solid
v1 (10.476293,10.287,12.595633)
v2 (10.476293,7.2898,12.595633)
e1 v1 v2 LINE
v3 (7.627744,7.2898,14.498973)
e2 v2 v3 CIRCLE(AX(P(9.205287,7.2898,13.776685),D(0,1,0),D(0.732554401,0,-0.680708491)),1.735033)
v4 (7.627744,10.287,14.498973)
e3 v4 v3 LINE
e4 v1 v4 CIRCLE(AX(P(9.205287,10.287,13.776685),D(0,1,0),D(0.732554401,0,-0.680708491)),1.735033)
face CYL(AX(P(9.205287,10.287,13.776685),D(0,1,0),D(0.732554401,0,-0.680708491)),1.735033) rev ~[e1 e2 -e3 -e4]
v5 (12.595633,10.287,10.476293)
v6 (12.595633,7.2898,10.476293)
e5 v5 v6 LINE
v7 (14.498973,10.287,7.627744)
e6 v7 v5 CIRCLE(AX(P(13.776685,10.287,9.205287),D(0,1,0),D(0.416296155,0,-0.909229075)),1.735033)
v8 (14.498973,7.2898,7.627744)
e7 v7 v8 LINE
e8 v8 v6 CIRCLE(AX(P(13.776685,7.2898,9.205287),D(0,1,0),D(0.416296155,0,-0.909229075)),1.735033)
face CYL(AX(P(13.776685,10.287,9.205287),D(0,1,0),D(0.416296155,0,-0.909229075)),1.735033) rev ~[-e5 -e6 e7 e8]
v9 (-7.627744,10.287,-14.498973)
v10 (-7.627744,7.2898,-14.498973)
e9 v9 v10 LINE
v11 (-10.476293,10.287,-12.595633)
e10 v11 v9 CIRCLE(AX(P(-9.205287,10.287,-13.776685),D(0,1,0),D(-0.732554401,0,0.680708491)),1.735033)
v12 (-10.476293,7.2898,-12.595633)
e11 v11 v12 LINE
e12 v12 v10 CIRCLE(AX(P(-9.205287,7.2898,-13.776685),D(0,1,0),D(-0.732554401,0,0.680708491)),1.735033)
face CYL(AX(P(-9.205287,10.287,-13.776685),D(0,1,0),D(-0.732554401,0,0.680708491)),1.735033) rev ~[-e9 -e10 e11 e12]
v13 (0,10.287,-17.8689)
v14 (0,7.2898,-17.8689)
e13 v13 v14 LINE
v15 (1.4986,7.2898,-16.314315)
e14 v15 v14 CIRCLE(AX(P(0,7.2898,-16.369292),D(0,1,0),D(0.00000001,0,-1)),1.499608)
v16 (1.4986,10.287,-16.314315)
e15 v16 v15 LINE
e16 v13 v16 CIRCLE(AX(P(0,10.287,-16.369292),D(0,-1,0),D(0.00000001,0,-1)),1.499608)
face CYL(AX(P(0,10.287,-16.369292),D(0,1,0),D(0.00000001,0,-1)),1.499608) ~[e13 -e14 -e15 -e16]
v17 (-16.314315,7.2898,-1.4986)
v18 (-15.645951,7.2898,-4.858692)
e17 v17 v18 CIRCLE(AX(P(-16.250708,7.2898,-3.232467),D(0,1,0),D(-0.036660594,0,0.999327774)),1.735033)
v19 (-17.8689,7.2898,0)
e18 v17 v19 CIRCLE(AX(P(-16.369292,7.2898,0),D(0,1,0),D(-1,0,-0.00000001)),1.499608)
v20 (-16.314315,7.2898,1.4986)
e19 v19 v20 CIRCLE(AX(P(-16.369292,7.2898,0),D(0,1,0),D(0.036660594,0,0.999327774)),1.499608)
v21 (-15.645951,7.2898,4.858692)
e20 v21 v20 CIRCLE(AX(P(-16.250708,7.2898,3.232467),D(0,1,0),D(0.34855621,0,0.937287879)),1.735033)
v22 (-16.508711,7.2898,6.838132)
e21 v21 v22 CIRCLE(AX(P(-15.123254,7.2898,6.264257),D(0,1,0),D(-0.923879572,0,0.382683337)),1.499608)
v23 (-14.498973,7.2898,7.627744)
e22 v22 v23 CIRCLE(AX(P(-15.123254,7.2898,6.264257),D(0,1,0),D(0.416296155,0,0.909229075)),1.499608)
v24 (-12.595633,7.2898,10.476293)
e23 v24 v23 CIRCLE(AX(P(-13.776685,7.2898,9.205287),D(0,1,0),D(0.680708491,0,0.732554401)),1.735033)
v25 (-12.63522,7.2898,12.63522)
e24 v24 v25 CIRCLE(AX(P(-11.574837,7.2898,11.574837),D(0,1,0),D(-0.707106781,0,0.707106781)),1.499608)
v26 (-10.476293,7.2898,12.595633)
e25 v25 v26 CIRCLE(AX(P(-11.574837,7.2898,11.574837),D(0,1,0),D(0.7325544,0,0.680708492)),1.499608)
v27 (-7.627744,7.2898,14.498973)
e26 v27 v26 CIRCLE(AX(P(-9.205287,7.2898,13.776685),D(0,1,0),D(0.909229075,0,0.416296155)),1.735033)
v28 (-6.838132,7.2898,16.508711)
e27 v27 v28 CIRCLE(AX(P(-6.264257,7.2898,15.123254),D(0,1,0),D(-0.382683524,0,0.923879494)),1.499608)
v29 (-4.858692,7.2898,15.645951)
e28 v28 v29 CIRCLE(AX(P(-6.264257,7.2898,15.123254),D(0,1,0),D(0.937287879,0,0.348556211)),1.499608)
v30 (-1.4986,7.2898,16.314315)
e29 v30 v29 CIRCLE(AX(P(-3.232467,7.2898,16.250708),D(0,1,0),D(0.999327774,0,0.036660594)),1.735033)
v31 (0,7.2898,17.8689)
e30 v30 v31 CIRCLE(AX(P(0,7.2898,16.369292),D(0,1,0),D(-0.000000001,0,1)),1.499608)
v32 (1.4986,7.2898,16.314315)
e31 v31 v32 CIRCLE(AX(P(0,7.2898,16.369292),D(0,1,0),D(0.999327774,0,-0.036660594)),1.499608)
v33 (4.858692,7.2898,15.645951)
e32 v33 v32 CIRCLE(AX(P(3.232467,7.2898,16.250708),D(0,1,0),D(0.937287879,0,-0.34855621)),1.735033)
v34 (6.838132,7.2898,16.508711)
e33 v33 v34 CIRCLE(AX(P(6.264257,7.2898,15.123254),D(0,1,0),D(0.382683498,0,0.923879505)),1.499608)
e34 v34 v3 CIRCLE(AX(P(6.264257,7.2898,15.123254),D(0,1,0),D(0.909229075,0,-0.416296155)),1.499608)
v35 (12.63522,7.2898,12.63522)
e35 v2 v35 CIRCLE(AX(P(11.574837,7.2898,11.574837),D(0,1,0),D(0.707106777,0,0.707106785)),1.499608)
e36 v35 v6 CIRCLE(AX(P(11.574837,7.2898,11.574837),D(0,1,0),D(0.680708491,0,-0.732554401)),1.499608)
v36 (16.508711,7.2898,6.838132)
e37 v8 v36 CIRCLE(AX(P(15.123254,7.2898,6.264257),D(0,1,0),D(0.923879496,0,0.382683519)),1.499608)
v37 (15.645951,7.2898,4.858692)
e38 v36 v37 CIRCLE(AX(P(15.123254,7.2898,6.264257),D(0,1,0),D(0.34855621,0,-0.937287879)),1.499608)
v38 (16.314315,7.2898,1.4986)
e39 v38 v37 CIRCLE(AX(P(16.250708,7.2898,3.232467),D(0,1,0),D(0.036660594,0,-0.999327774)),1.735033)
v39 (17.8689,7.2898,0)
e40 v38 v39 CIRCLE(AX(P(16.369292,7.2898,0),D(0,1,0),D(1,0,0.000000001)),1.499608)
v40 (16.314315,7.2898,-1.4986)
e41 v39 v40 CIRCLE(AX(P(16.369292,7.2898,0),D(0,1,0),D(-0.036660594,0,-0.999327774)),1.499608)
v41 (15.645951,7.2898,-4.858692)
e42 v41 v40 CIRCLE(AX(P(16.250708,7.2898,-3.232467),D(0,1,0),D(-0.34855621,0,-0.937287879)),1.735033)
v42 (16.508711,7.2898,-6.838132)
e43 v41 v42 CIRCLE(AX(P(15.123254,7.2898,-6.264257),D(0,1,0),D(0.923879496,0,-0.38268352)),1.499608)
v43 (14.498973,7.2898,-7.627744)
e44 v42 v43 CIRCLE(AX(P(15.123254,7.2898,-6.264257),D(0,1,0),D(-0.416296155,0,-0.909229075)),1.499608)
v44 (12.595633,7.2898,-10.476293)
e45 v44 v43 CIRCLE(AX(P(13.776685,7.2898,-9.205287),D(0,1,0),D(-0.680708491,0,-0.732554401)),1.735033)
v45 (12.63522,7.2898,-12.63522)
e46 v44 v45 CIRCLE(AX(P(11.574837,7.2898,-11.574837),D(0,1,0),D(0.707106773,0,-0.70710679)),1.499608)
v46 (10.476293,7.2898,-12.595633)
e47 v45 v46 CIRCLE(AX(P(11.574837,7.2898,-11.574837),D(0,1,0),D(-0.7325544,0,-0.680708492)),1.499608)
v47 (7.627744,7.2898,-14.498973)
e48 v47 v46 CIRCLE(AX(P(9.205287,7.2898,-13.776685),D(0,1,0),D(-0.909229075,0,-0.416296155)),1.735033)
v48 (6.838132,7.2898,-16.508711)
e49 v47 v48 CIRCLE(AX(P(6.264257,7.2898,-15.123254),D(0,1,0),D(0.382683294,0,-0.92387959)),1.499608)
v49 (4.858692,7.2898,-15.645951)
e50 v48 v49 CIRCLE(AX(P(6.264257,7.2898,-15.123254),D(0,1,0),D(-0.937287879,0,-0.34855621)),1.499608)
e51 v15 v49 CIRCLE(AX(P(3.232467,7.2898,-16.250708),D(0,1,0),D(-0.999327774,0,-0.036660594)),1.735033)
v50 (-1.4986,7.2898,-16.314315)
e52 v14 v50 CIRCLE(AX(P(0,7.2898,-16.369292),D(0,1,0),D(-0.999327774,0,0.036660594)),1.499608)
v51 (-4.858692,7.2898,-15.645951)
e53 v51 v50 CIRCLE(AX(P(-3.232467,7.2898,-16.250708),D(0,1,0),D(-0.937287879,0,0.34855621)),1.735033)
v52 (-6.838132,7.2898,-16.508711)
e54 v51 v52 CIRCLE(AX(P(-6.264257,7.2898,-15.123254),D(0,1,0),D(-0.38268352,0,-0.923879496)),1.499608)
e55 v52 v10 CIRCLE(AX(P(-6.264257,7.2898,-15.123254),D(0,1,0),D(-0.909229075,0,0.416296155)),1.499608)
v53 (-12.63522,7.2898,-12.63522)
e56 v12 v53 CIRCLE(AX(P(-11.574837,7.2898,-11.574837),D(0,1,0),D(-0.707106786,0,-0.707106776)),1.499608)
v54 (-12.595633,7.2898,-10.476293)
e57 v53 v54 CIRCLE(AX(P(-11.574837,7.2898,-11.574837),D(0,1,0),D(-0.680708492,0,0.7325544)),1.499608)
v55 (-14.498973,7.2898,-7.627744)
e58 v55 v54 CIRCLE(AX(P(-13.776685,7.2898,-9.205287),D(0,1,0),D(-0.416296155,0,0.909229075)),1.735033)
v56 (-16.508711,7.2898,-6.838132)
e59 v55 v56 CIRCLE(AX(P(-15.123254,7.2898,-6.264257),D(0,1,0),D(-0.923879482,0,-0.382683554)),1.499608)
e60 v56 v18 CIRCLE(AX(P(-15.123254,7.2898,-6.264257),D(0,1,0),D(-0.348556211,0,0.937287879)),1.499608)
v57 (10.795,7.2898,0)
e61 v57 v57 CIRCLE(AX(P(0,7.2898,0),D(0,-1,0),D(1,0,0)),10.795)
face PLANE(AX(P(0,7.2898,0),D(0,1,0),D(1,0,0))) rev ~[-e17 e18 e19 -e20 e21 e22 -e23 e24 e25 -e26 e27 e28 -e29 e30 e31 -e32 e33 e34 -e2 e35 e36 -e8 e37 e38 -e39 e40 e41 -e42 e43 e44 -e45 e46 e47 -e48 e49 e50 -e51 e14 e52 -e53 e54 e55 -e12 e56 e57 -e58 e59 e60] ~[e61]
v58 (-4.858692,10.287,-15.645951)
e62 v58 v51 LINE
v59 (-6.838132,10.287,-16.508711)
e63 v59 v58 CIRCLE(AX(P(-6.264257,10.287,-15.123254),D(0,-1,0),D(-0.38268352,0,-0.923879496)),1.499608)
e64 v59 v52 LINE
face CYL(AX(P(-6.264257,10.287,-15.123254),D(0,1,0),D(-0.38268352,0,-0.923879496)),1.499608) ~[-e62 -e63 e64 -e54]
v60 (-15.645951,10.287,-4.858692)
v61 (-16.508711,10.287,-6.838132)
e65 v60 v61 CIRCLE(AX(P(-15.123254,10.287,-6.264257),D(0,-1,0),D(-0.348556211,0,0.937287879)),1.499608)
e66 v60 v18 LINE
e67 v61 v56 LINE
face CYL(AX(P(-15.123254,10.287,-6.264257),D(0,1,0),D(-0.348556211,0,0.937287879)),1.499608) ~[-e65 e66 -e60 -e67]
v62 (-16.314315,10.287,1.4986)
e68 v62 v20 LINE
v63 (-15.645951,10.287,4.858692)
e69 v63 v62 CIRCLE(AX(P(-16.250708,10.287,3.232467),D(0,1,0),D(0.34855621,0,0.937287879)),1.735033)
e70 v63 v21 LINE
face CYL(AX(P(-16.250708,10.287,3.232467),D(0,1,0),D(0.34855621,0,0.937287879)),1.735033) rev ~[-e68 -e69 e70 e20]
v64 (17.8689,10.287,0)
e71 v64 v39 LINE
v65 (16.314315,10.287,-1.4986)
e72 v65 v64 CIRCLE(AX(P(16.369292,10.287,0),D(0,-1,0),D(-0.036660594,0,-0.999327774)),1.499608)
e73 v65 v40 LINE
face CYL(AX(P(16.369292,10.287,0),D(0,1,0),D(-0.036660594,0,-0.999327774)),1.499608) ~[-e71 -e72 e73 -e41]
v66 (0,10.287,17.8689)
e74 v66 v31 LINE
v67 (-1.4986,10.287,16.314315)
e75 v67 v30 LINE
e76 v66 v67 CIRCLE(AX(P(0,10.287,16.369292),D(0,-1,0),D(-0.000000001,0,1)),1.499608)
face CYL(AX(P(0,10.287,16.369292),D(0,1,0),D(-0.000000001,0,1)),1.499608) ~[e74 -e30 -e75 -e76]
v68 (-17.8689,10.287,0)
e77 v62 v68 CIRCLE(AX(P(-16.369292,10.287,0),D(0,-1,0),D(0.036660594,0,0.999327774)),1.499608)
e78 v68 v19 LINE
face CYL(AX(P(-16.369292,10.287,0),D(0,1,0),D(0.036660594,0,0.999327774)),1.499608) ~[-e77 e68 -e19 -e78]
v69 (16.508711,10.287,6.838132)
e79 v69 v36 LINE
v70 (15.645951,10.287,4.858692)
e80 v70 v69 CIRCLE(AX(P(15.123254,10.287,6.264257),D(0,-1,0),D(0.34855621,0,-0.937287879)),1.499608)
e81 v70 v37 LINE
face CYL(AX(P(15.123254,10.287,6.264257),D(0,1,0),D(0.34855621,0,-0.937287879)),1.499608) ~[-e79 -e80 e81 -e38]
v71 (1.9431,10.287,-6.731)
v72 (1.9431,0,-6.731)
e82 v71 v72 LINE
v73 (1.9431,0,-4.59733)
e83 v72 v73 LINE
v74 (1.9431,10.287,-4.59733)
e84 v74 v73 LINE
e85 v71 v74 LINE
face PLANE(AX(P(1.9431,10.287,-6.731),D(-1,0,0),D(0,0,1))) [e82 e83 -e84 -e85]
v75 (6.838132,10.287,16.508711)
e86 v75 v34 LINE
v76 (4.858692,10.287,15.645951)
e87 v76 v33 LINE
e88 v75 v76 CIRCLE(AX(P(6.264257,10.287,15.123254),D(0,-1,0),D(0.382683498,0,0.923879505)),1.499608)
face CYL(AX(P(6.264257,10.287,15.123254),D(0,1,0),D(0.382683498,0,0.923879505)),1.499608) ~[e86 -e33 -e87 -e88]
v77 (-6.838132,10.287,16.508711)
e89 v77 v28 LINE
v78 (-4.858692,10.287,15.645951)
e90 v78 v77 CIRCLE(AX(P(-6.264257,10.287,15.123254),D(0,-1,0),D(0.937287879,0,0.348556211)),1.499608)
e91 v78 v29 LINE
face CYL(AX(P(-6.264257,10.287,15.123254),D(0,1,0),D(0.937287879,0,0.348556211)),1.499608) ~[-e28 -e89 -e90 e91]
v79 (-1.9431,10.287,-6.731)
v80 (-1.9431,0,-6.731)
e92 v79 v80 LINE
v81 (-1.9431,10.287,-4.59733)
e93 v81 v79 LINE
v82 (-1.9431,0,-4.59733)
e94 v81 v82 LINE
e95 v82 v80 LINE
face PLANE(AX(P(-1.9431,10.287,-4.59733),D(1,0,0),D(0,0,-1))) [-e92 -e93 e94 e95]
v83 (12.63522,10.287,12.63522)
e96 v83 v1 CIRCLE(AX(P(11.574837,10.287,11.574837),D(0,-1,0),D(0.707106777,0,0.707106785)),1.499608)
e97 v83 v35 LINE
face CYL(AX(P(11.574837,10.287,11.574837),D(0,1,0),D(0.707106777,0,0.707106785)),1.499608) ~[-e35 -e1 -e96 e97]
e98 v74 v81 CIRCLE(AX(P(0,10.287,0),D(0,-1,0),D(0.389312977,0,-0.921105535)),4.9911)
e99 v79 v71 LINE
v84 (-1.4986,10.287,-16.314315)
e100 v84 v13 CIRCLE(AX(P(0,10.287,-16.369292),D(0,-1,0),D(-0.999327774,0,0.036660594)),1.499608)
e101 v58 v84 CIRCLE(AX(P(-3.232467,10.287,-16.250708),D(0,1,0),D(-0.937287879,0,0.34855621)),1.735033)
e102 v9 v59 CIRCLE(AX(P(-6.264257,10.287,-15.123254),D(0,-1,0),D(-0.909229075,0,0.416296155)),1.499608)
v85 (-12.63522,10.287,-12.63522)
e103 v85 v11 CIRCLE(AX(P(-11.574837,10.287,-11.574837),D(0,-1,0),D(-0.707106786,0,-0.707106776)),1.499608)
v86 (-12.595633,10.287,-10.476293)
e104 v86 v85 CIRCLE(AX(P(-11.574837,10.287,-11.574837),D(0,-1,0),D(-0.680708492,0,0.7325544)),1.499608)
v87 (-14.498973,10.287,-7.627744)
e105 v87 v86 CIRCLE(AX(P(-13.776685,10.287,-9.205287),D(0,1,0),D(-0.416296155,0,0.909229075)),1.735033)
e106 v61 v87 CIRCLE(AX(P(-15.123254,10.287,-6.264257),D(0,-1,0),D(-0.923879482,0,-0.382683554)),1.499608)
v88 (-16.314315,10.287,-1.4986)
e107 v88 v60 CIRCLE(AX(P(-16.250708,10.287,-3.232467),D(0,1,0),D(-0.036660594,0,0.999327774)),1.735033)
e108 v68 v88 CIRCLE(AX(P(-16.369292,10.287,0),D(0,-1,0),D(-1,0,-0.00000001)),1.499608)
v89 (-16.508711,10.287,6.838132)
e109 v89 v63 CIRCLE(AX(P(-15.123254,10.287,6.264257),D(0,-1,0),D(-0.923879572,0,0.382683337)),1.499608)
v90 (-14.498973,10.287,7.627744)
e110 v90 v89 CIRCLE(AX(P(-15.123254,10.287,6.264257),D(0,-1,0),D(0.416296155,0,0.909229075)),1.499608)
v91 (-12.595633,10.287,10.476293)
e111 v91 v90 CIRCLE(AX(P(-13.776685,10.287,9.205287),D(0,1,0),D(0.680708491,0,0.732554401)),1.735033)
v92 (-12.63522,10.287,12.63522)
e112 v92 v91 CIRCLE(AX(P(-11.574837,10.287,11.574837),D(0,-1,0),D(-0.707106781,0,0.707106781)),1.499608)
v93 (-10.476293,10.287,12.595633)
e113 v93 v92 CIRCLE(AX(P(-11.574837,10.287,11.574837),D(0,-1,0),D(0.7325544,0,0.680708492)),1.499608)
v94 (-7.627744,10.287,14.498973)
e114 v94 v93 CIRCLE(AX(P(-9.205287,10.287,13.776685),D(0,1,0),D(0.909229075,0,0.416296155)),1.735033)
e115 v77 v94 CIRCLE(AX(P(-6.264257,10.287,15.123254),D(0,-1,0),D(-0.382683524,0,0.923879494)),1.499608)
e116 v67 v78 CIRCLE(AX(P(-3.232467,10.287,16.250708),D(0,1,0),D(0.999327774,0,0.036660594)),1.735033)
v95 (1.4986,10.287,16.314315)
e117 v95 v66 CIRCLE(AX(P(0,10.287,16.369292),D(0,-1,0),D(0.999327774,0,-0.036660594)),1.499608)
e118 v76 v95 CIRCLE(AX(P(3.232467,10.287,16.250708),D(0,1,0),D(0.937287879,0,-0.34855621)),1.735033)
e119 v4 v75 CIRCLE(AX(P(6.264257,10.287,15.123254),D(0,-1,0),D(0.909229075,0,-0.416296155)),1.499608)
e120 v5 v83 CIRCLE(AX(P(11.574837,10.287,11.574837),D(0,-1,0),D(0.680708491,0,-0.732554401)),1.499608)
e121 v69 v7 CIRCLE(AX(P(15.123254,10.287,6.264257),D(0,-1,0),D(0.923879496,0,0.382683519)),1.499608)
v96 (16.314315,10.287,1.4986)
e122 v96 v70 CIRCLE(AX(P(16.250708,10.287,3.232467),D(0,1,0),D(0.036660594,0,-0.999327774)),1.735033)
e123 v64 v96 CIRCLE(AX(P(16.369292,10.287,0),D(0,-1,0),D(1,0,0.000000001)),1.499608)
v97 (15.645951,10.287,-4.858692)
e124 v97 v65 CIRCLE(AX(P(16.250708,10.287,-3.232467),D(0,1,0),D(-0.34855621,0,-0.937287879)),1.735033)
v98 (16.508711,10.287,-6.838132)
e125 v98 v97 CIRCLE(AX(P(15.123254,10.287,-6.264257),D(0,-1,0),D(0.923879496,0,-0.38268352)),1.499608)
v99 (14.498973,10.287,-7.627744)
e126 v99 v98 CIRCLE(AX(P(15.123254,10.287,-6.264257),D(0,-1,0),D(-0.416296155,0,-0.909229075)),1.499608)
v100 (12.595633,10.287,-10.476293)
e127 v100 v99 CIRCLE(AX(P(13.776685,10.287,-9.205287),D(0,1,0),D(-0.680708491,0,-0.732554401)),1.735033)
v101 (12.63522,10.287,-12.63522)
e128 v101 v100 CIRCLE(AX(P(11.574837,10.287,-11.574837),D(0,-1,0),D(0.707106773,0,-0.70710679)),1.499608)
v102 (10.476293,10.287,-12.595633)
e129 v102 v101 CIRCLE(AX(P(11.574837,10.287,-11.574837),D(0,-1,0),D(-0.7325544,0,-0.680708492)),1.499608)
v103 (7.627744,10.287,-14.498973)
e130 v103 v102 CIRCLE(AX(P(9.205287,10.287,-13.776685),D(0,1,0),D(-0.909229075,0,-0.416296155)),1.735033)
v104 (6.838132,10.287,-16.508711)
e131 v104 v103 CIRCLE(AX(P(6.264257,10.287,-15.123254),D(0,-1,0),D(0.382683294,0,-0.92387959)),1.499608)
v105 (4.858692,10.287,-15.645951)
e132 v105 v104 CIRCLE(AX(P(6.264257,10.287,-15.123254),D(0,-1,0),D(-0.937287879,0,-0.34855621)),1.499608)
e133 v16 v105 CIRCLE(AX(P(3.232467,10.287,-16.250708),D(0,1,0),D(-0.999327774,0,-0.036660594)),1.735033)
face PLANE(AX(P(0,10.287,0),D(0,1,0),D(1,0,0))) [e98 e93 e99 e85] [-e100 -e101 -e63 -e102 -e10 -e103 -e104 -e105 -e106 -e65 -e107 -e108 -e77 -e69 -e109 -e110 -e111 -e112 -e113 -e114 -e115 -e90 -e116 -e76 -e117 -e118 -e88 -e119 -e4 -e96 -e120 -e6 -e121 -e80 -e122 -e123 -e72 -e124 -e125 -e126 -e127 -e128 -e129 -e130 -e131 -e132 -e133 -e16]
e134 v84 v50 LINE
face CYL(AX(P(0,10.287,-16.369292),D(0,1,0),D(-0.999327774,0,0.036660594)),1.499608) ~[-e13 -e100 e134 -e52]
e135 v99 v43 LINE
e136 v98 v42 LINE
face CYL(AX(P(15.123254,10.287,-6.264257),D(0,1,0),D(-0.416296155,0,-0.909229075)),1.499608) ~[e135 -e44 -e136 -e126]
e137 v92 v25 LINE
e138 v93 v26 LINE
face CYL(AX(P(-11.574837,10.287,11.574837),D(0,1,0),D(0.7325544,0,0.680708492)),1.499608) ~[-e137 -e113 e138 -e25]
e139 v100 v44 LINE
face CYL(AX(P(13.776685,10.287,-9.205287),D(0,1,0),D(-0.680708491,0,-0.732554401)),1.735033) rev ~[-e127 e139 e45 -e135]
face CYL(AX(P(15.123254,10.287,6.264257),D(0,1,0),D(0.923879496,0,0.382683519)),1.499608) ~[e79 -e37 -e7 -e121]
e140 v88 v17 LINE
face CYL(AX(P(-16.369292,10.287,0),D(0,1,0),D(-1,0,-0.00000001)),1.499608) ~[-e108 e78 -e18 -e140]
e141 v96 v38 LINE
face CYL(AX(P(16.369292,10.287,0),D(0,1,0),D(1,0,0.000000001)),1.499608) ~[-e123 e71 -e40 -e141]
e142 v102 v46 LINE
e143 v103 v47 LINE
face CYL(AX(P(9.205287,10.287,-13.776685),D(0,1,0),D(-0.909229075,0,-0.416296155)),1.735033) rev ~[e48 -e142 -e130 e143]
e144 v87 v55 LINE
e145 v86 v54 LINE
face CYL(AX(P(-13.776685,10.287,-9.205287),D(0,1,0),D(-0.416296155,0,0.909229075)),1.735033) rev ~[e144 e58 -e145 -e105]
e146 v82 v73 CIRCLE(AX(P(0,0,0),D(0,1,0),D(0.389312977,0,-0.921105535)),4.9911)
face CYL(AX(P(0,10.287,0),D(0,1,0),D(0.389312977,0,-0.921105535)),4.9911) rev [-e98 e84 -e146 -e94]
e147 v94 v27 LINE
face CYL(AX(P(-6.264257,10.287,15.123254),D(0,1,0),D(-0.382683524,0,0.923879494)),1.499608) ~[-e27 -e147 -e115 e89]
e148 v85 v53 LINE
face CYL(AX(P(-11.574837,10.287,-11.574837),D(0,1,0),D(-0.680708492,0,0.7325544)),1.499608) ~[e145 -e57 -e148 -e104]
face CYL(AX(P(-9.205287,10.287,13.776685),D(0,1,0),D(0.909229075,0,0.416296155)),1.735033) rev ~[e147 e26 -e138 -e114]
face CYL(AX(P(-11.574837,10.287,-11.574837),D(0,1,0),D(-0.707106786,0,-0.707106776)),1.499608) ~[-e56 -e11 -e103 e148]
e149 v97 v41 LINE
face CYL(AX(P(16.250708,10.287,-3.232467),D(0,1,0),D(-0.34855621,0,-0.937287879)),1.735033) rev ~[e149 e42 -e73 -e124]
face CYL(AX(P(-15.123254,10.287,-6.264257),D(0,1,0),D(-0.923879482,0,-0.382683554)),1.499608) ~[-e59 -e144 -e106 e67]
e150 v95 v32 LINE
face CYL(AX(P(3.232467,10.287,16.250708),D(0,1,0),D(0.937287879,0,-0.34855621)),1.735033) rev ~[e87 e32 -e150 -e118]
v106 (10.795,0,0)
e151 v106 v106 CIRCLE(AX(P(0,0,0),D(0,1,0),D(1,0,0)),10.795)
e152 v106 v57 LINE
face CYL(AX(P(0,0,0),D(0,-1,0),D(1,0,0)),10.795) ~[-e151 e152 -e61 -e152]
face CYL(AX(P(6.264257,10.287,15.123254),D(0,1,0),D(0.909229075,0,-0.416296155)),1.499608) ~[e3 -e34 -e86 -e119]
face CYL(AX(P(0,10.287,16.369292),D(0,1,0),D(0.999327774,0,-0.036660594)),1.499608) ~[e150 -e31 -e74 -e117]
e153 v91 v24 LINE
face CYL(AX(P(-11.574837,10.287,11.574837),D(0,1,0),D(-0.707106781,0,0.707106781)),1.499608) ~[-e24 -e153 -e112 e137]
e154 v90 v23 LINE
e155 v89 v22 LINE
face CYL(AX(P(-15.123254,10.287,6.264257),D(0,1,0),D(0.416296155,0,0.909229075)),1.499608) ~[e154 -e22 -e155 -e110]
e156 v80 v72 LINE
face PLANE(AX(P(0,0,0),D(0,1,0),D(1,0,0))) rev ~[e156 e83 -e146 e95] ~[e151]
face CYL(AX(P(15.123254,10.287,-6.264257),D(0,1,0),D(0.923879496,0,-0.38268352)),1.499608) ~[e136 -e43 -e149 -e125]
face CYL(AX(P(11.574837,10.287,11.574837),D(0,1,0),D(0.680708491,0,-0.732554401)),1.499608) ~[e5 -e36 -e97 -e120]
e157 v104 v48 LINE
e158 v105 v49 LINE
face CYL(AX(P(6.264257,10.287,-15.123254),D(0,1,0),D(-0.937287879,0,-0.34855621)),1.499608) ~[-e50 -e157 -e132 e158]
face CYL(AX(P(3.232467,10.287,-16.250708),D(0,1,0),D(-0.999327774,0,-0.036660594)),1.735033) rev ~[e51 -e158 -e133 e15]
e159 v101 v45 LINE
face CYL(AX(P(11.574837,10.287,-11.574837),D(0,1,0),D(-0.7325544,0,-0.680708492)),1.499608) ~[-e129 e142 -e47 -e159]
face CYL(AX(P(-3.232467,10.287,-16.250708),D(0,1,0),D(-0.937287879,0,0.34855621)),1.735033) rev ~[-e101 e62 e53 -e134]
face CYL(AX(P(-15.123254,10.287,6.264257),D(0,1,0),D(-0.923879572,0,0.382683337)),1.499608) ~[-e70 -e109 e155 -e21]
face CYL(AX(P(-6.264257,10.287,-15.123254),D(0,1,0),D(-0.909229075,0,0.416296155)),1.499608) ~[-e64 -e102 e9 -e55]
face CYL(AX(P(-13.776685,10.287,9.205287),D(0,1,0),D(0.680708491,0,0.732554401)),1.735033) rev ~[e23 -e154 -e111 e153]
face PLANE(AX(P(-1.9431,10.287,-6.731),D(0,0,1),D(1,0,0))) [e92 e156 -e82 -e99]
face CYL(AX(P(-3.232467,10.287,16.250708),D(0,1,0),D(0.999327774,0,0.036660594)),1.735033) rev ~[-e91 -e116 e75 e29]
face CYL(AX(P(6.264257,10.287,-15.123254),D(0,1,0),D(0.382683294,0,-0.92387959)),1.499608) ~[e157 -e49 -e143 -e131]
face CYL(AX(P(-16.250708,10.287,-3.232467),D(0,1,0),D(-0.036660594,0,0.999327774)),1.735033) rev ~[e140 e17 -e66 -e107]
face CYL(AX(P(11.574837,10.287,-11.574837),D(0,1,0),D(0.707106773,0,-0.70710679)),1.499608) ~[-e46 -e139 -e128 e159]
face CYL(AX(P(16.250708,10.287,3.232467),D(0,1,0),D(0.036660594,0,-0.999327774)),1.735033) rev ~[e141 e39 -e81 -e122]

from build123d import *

# Parameters (mm, degrees)
SKETCH2_R           = 10.795
BOSS_EXTRUDE1_DEPTH = 10.287
SKETCH3_R           = 17.8689
BOSS_EXTRUDE2_DEPTH = 2.9972
CUT_EXTRUDE1_DEPTH  = 11.287
CUT_EXTRUDE2_DEPTH  = 11.287


with BuildPart() as part:
    # Sketch2 → Boss-Extrude1 (new body)
    with BuildSketch(Plane(origin=(0, 0, 0), x_dir=(1, 0, 0), z_dir=(0, 1, 0))):
        Circle(SKETCH2_R)
    extrude(amount=BOSS_EXTRUDE1_DEPTH)

    # Sketch3 → Boss-Extrude2 (add)
    with BuildSketch(Plane(origin=(0, 10.287, 0), x_dir=(1, 0, 0), z_dir=(0, 1, 0))):
        Circle(SKETCH3_R)
    extrude(amount=-BOSS_EXTRUDE2_DEPTH)

    # Sketch4 → Cut-Extrude1 (cut, through all)
    with BuildSketch(Plane(origin=(0, 10.287, 0), x_dir=(1, 0, 0), z_dir=(0, 1, 0))):
        with BuildLine():
            ThreePointArc((1.4e-08, 17.8689), (1.079645228, 17.410056336), (1.4986, 16.314315402))
            ThreePointArc((1.4986, 16.314315402), (3.196164746, 16.068205249), (4.858692347, 15.645951479))
            ThreePointArc((4.858692347, 15.645951479), (5.665077892, 16.497957009), (6.838131777, 16.508711064))
            ThreePointArc((6.838131777, 16.508711064), (3.486049352, 17.525554117), (1.4e-08, 17.8689))
        make_face()
        with BuildLine():
            ThreePointArc((4.858692347, 15.645951479), (3.196164746, 16.068205249), (1.4986, 16.314315402))
            ThreePointArc((1.4986, 16.314315402), (2.893978636, 14.549013087), (4.858692347, 15.645951479))
        make_face()
        with BuildLine():
            ThreePointArc((12.63522035, 12.635220375), (9.927428836, 14.857447422), (6.838131777, 16.508711064))
            ThreePointArc((6.838131777, 16.508711064), (7.660002201, 15.671632478), (7.627744082, 14.498972695))
            ThreePointArc((7.627744082, 14.498972695), (9.101907128, 13.621966658), (10.476292829, 12.595633274))
            ThreePointArc((10.476292829, 12.595633274), (11.547344433, 13.074193358), (12.63522035, 12.635220375))
        make_face()
        with BuildLine():
            ThreePointArc((10.476292829, 12.595633274), (9.101907128, 13.621966658), (7.627744082, 14.498972695))
            ThreePointArc((7.627744082, 14.498972695), (8.241353895, 12.334057732), (10.476292829, 12.595633274))
        make_face()
        with BuildLine():
            ThreePointArc((16.508710924, 6.838132115), (14.857447311, 9.927429003), (12.63522035, 12.635220375))
            ThreePointArc((12.63522035, 12.635220375), (13.074193359, 11.54734445), (12.595633274, 10.476292829))
            ThreePointArc((12.595633274, 10.476292829), (13.621966658, 9.101907128), (14.498972695, 7.627744082))
            ThreePointArc((14.498972695, 7.627744082), (15.671632308, 7.660002268), (16.508710924, 6.838132115))
        make_face()
        with BuildLine():
            ThreePointArc((14.498972695, 7.627744082), (13.621966658, 9.101907128), (12.595633274, 10.476292829))
            ThreePointArc((12.595633274, 10.476292829), (12.334057732, 8.241353895), (14.498972695, 7.627744082))
        make_face()
        with BuildLine():
            ThreePointArc((17.8689, 0), (17.525554083, 3.486049525), (16.508710924, 6.838132115))
            ThreePointArc((16.508710924, 6.838132115), (16.497957082, 5.665078059), (15.645951479, 4.858692347))
            ThreePointArc((15.645951479, 4.858692347), (16.068205249, 3.196164746), (16.314315402, 1.4986))
            ThreePointArc((16.314315402, 1.4986), (17.410056341, 1.079645223), (17.8689, 0))
        make_face()
        with BuildLine():
            ThreePointArc((16.314315402, 1.4986), (16.068205249, 3.196164746), (15.645951479, 4.858692347))
            ThreePointArc((15.645951479, 4.858692347), (14.549013087, 2.893978636), (16.314315402, 1.4986))
        make_face()
        with BuildLine():
            ThreePointArc((16.508710924, -6.838132115), (17.525554083, -3.486049525), (17.8689, 0))
            ThreePointArc((17.8689, 0), (17.410056341, -1.079645223), (16.314315402, -1.4986))
            ThreePointArc((16.314315402, -1.4986), (16.068205249, -3.196164746), (15.645951479, -4.858692347))
            ThreePointArc((15.645951479, -4.858692347), (16.497957082, -5.665078059), (16.508710924, -6.838132115))
        make_face()
        with BuildLine():
            ThreePointArc((15.645951479, -4.858692347), (16.068205249, -3.196164746), (16.314315402, -1.4986))
            ThreePointArc((16.314315402, -1.4986), (14.549013087, -2.893978636), (15.645951479, -4.858692347))
        make_face()
        with BuildLine():
            ThreePointArc((12.635220358, -12.635220367), (14.857447314, -9.927428998), (16.508710924, -6.838132115))
            ThreePointArc((16.508710924, -6.838132115), (15.671632308, -7.660002268), (14.498972695, -7.627744082))
            ThreePointArc((14.498972695, -7.627744082), (13.621966658, -9.101907128), (12.595633274, -10.476292829))
            ThreePointArc((12.595633274, -10.476292829), (13.074193359, -11.547344445), (12.635220358, -12.635220367))
        make_face()
        with BuildLine():
            ThreePointArc((12.595633274, -10.476292829), (13.621966658, -9.101907128), (14.498972695, -7.627744082))
            ThreePointArc((14.498972695, -7.627744082), (12.334057732, -8.241353895), (12.595633274, -10.476292829))
        make_face()
        with BuildLine():
            ThreePointArc((6.838132083, -16.508710938), (9.927428978, -14.857447327), (12.635220358, -12.635220367))
            ThreePointArc((12.635220358, -12.635220367), (11.547344438, -13.074193358), (10.476292829, -12.595633274))
            ThreePointArc((10.476292829, -12.595633274), (9.101907128, -13.621966658), (7.627744082, -14.498972695))
            ThreePointArc((7.627744082, -14.498972695), (7.660002262, -15.671632324), (6.838132083, -16.508710938))
        make_face()
        with BuildLine():
            ThreePointArc((7.627744082, -14.498972695), (9.101907128, -13.621966658), (10.476292829, -12.595633274))
            ThreePointArc((10.476292829, -12.595633274), (8.241353895, -12.334057732), (7.627744082, -14.498972695))
        make_face()
        with BuildLine():
            ThreePointArc((0, -17.8689), (3.486049507, -17.525554087), (6.838132083, -16.508710938))
            ThreePointArc((6.838132083, -16.508710938), (5.665078043, -16.497957075), (4.858692347, -15.645951479))
            ThreePointArc((4.858692347, -15.645951479), (3.196164746, -16.068205249), (1.4986, -16.314315402))
            ThreePointArc((1.4986, -16.314315402), (1.079645223, -17.410056341), (0, -17.8689))
        make_face()
        with BuildLine():
            ThreePointArc((1.4986, -16.314315402), (3.196164746, -16.068205249), (4.858692347, -15.645951479))
            ThreePointArc((4.858692347, -15.645951479), (2.893978636, -14.549013087), (1.4986, -16.314315402))
        make_face()
        with BuildLine():
            ThreePointArc((-4.858692347, -15.645951479), (-5.665078063, -16.497957083), (-6.838132123, -16.508710921))
            ThreePointArc((-6.838132123, -16.508710921), (-3.486049529, -17.525554082), (0, -17.8689))
            ThreePointArc((0, -17.8689), (-1.079645223, -17.410056341), (-1.4986, -16.314315402))
            ThreePointArc((-1.4986, -16.314315402), (-3.196164746, -16.068205249), (-4.858692347, -15.645951479))
        make_face()
        with BuildLine():
            ThreePointArc((-1.4986, -16.314315402), (-2.893978636, -14.549013087), (-4.858692347, -15.645951479))
            ThreePointArc((-4.858692347, -15.645951479), (-3.196164746, -16.068205249), (-1.4986, -16.314315402))
        make_face()
        with BuildLine():
            ThreePointArc((-7.627744082, -14.498972695), (-8.241353895, -12.334057732), (-10.476292829, -12.595633274))
            ThreePointArc((-10.476292829, -12.595633274), (-9.101907128, -13.621966658), (-7.627744082, -14.498972695))
        make_face()
        with BuildLine():
            ThreePointArc((-14.498972695, -7.627744082), (-15.671632446, -7.660002214), (-16.508711038, -6.838131842))
            ThreePointArc((-16.508711038, -6.838131842), (-14.857447398, -9.927428873), (-12.635220362, -12.635220362))
            ThreePointArc((-12.635220362, -12.635220362), (-13.074193358, -11.547344441), (-12.595633274, -10.476292829))
            ThreePointArc((-12.595633274, -10.476292829), (-13.621966658, -9.101907128), (-14.498972695, -7.627744082))
        make_face()
        with BuildLine():
            ThreePointArc((-12.595633274, -10.476292829), (-12.334057732, -8.241353895), (-14.498972695, -7.627744082))
            ThreePointArc((-14.498972695, -7.627744082), (-13.621966658, -9.101907128), (-12.595633274, -10.476292829))
        make_face()
        with BuildLine():
            ThreePointArc((-16.314315402, -1.4986), (-17.410056347, -1.079645218), (-17.8689, 1.4e-08))
            ThreePointArc((-17.8689, 1.4e-08), (-17.525554113, -3.486049372), (-16.508711038, -6.838131842))
            ThreePointArc((-16.508711038, -6.838131842), (-16.497957023, -5.665077924), (-15.645951479, -4.858692347))
            ThreePointArc((-15.645951479, -4.858692347), (-16.068205249, -3.196164746), (-16.314315402, -1.4986))
        make_face()
        with BuildLine():
            ThreePointArc((-15.645951479, -4.858692347), (-14.549013087, -2.893978636), (-16.314315402, -1.4986))
            ThreePointArc((-16.314315402, -1.4986), (-16.068205249, -3.196164746), (-15.645951479, -4.858692347))
        make_face()
        with BuildLine():
            ThreePointArc((-15.645951479, 4.858692347), (-16.497957093, 5.665078085), (-16.508710903, 6.838132168))
            ThreePointArc((-16.508710903, 6.838132168), (-17.525554076, 3.486049559), (-17.8689, 1.4e-08))
            ThreePointArc((-17.8689, 1.4e-08), (-17.410056336, 1.079645228), (-16.314315402, 1.4986))
            ThreePointArc((-16.314315402, 1.4986), (-16.068205249, 3.196164746), (-15.645951479, 4.858692347))
        make_face()
        with BuildLine():
            ThreePointArc((-16.314315402, 1.4986), (-14.549013087, 2.893978636), (-15.645951479, 4.858692347))
            ThreePointArc((-15.645951479, 4.858692347), (-16.068205249, 3.196164746), (-16.314315402, 1.4986))
        make_face()
        with BuildLine():
            ThreePointArc((-12.595633274, 10.476292829), (-13.074193358, 11.547344436), (-12.63522037, 12.635220355))
            ThreePointArc((-12.63522037, 12.635220355), (-14.857447303, 9.927429015), (-16.508710903, 6.838132168))
            ThreePointArc((-16.508710903, 6.838132168), (-15.671632282, 7.660002279), (-14.498972695, 7.627744082))
            ThreePointArc((-14.498972695, 7.627744082), (-13.621966658, 9.101907128), (-12.595633274, 10.476292829))
        make_face()
        with BuildLine():
            ThreePointArc((-14.498972695, 7.627744082), (-12.334057732, 8.241353895), (-12.595633274, 10.476292829))
            ThreePointArc((-12.595633274, 10.476292829), (-13.621966658, 9.101907128), (-14.498972695, 7.627744082))
        make_face()
        with BuildLine():
            ThreePointArc((-7.627744082, 14.498972695), (-7.660002268, 15.671632308), (-6.838132115, 16.508710924))
            ThreePointArc((-6.838132115, 16.508710924), (-9.927429, 14.857447313), (-12.63522037, 12.635220355))
            ThreePointArc((-12.63522037, 12.635220355), (-11.547344447, 13.074193359), (-10.476292829, 12.595633274))
            ThreePointArc((-10.476292829, 12.595633274), (-9.101907128, 13.621966658), (-7.627744082, 14.498972695))
        make_face()
        with BuildLine():
            ThreePointArc((-10.476292829, 12.595633274), (-8.241353895, 12.334057732), (-7.627744082, 14.498972695))
            ThreePointArc((-7.627744082, 14.498972695), (-9.101907128, 13.621966658), (-10.476292829, 12.595633274))
        make_face()
        with BuildLine():
            ThreePointArc((-4.858692347, 15.645951479), (-2.893978636, 14.549013087), (-1.4986, 16.314315402))
            ThreePointArc((-1.4986, 16.314315402), (-3.196164746, 16.068205249), (-4.858692347, 15.645951479))
        make_face()
        with BuildLine():
            ThreePointArc((-1.4986, 16.314315402), (-1.079645218, 17.410056347), (1.4e-08, 17.8689))
            ThreePointArc((1.4e-08, 17.8689), (-3.486049518, 17.525554085), (-6.838132115, 16.508710924))
            ThreePointArc((-6.838132115, 16.508710924), (-5.665078059, 16.497957082), (-4.858692347, 15.645951479))
            ThreePointArc((-4.858692347, 15.645951479), (-3.196164746, 16.068205249), (-1.4986, 16.314315402))
        make_face()
        with BuildLine():
            ThreePointArc((-10.476292829, -12.595633274), (-11.547344441, -13.074193358), (-12.635220362, -12.635220362))
            ThreePointArc((-12.635220362, -12.635220362), (-9.927428999, -14.857447314), (-6.838132123, -16.508710921))
            ThreePointArc((-6.838132123, -16.508710921), (-7.66000227, -15.671632304), (-7.627744082, -14.498972695))
            ThreePointArc((-7.627744082, -14.498972695), (-9.101907128, -13.621966658), (-10.476292829, -12.595633274))
        make_face()
    extrude(amount=-CUT_EXTRUDE1_DEPTH, mode=Mode.SUBTRACT)

    # Sketch5 → Cut-Extrude2 (cut, through all)
    with BuildSketch(Plane(origin=(0, 10.287, 0), x_dir=(1, 0, 0), z_dir=(0, 1, 0))):
        with BuildLine():
            Line((-1.9431, 4.597329834), (-1.9431, 6.731))
            Line((-1.9431, 6.731), (1.9431, 6.731))
            Line((1.9431, 6.731), (1.9431, 4.597329834))
            ThreePointArc((1.9431, 4.597329834), (0, -4.9911), (-1.9431, 4.597329834))
        make_face()
    extrude(amount=-CUT_EXTRUDE2_DEPTH, mode=Mode.SUBTRACT)


solid = part.part
